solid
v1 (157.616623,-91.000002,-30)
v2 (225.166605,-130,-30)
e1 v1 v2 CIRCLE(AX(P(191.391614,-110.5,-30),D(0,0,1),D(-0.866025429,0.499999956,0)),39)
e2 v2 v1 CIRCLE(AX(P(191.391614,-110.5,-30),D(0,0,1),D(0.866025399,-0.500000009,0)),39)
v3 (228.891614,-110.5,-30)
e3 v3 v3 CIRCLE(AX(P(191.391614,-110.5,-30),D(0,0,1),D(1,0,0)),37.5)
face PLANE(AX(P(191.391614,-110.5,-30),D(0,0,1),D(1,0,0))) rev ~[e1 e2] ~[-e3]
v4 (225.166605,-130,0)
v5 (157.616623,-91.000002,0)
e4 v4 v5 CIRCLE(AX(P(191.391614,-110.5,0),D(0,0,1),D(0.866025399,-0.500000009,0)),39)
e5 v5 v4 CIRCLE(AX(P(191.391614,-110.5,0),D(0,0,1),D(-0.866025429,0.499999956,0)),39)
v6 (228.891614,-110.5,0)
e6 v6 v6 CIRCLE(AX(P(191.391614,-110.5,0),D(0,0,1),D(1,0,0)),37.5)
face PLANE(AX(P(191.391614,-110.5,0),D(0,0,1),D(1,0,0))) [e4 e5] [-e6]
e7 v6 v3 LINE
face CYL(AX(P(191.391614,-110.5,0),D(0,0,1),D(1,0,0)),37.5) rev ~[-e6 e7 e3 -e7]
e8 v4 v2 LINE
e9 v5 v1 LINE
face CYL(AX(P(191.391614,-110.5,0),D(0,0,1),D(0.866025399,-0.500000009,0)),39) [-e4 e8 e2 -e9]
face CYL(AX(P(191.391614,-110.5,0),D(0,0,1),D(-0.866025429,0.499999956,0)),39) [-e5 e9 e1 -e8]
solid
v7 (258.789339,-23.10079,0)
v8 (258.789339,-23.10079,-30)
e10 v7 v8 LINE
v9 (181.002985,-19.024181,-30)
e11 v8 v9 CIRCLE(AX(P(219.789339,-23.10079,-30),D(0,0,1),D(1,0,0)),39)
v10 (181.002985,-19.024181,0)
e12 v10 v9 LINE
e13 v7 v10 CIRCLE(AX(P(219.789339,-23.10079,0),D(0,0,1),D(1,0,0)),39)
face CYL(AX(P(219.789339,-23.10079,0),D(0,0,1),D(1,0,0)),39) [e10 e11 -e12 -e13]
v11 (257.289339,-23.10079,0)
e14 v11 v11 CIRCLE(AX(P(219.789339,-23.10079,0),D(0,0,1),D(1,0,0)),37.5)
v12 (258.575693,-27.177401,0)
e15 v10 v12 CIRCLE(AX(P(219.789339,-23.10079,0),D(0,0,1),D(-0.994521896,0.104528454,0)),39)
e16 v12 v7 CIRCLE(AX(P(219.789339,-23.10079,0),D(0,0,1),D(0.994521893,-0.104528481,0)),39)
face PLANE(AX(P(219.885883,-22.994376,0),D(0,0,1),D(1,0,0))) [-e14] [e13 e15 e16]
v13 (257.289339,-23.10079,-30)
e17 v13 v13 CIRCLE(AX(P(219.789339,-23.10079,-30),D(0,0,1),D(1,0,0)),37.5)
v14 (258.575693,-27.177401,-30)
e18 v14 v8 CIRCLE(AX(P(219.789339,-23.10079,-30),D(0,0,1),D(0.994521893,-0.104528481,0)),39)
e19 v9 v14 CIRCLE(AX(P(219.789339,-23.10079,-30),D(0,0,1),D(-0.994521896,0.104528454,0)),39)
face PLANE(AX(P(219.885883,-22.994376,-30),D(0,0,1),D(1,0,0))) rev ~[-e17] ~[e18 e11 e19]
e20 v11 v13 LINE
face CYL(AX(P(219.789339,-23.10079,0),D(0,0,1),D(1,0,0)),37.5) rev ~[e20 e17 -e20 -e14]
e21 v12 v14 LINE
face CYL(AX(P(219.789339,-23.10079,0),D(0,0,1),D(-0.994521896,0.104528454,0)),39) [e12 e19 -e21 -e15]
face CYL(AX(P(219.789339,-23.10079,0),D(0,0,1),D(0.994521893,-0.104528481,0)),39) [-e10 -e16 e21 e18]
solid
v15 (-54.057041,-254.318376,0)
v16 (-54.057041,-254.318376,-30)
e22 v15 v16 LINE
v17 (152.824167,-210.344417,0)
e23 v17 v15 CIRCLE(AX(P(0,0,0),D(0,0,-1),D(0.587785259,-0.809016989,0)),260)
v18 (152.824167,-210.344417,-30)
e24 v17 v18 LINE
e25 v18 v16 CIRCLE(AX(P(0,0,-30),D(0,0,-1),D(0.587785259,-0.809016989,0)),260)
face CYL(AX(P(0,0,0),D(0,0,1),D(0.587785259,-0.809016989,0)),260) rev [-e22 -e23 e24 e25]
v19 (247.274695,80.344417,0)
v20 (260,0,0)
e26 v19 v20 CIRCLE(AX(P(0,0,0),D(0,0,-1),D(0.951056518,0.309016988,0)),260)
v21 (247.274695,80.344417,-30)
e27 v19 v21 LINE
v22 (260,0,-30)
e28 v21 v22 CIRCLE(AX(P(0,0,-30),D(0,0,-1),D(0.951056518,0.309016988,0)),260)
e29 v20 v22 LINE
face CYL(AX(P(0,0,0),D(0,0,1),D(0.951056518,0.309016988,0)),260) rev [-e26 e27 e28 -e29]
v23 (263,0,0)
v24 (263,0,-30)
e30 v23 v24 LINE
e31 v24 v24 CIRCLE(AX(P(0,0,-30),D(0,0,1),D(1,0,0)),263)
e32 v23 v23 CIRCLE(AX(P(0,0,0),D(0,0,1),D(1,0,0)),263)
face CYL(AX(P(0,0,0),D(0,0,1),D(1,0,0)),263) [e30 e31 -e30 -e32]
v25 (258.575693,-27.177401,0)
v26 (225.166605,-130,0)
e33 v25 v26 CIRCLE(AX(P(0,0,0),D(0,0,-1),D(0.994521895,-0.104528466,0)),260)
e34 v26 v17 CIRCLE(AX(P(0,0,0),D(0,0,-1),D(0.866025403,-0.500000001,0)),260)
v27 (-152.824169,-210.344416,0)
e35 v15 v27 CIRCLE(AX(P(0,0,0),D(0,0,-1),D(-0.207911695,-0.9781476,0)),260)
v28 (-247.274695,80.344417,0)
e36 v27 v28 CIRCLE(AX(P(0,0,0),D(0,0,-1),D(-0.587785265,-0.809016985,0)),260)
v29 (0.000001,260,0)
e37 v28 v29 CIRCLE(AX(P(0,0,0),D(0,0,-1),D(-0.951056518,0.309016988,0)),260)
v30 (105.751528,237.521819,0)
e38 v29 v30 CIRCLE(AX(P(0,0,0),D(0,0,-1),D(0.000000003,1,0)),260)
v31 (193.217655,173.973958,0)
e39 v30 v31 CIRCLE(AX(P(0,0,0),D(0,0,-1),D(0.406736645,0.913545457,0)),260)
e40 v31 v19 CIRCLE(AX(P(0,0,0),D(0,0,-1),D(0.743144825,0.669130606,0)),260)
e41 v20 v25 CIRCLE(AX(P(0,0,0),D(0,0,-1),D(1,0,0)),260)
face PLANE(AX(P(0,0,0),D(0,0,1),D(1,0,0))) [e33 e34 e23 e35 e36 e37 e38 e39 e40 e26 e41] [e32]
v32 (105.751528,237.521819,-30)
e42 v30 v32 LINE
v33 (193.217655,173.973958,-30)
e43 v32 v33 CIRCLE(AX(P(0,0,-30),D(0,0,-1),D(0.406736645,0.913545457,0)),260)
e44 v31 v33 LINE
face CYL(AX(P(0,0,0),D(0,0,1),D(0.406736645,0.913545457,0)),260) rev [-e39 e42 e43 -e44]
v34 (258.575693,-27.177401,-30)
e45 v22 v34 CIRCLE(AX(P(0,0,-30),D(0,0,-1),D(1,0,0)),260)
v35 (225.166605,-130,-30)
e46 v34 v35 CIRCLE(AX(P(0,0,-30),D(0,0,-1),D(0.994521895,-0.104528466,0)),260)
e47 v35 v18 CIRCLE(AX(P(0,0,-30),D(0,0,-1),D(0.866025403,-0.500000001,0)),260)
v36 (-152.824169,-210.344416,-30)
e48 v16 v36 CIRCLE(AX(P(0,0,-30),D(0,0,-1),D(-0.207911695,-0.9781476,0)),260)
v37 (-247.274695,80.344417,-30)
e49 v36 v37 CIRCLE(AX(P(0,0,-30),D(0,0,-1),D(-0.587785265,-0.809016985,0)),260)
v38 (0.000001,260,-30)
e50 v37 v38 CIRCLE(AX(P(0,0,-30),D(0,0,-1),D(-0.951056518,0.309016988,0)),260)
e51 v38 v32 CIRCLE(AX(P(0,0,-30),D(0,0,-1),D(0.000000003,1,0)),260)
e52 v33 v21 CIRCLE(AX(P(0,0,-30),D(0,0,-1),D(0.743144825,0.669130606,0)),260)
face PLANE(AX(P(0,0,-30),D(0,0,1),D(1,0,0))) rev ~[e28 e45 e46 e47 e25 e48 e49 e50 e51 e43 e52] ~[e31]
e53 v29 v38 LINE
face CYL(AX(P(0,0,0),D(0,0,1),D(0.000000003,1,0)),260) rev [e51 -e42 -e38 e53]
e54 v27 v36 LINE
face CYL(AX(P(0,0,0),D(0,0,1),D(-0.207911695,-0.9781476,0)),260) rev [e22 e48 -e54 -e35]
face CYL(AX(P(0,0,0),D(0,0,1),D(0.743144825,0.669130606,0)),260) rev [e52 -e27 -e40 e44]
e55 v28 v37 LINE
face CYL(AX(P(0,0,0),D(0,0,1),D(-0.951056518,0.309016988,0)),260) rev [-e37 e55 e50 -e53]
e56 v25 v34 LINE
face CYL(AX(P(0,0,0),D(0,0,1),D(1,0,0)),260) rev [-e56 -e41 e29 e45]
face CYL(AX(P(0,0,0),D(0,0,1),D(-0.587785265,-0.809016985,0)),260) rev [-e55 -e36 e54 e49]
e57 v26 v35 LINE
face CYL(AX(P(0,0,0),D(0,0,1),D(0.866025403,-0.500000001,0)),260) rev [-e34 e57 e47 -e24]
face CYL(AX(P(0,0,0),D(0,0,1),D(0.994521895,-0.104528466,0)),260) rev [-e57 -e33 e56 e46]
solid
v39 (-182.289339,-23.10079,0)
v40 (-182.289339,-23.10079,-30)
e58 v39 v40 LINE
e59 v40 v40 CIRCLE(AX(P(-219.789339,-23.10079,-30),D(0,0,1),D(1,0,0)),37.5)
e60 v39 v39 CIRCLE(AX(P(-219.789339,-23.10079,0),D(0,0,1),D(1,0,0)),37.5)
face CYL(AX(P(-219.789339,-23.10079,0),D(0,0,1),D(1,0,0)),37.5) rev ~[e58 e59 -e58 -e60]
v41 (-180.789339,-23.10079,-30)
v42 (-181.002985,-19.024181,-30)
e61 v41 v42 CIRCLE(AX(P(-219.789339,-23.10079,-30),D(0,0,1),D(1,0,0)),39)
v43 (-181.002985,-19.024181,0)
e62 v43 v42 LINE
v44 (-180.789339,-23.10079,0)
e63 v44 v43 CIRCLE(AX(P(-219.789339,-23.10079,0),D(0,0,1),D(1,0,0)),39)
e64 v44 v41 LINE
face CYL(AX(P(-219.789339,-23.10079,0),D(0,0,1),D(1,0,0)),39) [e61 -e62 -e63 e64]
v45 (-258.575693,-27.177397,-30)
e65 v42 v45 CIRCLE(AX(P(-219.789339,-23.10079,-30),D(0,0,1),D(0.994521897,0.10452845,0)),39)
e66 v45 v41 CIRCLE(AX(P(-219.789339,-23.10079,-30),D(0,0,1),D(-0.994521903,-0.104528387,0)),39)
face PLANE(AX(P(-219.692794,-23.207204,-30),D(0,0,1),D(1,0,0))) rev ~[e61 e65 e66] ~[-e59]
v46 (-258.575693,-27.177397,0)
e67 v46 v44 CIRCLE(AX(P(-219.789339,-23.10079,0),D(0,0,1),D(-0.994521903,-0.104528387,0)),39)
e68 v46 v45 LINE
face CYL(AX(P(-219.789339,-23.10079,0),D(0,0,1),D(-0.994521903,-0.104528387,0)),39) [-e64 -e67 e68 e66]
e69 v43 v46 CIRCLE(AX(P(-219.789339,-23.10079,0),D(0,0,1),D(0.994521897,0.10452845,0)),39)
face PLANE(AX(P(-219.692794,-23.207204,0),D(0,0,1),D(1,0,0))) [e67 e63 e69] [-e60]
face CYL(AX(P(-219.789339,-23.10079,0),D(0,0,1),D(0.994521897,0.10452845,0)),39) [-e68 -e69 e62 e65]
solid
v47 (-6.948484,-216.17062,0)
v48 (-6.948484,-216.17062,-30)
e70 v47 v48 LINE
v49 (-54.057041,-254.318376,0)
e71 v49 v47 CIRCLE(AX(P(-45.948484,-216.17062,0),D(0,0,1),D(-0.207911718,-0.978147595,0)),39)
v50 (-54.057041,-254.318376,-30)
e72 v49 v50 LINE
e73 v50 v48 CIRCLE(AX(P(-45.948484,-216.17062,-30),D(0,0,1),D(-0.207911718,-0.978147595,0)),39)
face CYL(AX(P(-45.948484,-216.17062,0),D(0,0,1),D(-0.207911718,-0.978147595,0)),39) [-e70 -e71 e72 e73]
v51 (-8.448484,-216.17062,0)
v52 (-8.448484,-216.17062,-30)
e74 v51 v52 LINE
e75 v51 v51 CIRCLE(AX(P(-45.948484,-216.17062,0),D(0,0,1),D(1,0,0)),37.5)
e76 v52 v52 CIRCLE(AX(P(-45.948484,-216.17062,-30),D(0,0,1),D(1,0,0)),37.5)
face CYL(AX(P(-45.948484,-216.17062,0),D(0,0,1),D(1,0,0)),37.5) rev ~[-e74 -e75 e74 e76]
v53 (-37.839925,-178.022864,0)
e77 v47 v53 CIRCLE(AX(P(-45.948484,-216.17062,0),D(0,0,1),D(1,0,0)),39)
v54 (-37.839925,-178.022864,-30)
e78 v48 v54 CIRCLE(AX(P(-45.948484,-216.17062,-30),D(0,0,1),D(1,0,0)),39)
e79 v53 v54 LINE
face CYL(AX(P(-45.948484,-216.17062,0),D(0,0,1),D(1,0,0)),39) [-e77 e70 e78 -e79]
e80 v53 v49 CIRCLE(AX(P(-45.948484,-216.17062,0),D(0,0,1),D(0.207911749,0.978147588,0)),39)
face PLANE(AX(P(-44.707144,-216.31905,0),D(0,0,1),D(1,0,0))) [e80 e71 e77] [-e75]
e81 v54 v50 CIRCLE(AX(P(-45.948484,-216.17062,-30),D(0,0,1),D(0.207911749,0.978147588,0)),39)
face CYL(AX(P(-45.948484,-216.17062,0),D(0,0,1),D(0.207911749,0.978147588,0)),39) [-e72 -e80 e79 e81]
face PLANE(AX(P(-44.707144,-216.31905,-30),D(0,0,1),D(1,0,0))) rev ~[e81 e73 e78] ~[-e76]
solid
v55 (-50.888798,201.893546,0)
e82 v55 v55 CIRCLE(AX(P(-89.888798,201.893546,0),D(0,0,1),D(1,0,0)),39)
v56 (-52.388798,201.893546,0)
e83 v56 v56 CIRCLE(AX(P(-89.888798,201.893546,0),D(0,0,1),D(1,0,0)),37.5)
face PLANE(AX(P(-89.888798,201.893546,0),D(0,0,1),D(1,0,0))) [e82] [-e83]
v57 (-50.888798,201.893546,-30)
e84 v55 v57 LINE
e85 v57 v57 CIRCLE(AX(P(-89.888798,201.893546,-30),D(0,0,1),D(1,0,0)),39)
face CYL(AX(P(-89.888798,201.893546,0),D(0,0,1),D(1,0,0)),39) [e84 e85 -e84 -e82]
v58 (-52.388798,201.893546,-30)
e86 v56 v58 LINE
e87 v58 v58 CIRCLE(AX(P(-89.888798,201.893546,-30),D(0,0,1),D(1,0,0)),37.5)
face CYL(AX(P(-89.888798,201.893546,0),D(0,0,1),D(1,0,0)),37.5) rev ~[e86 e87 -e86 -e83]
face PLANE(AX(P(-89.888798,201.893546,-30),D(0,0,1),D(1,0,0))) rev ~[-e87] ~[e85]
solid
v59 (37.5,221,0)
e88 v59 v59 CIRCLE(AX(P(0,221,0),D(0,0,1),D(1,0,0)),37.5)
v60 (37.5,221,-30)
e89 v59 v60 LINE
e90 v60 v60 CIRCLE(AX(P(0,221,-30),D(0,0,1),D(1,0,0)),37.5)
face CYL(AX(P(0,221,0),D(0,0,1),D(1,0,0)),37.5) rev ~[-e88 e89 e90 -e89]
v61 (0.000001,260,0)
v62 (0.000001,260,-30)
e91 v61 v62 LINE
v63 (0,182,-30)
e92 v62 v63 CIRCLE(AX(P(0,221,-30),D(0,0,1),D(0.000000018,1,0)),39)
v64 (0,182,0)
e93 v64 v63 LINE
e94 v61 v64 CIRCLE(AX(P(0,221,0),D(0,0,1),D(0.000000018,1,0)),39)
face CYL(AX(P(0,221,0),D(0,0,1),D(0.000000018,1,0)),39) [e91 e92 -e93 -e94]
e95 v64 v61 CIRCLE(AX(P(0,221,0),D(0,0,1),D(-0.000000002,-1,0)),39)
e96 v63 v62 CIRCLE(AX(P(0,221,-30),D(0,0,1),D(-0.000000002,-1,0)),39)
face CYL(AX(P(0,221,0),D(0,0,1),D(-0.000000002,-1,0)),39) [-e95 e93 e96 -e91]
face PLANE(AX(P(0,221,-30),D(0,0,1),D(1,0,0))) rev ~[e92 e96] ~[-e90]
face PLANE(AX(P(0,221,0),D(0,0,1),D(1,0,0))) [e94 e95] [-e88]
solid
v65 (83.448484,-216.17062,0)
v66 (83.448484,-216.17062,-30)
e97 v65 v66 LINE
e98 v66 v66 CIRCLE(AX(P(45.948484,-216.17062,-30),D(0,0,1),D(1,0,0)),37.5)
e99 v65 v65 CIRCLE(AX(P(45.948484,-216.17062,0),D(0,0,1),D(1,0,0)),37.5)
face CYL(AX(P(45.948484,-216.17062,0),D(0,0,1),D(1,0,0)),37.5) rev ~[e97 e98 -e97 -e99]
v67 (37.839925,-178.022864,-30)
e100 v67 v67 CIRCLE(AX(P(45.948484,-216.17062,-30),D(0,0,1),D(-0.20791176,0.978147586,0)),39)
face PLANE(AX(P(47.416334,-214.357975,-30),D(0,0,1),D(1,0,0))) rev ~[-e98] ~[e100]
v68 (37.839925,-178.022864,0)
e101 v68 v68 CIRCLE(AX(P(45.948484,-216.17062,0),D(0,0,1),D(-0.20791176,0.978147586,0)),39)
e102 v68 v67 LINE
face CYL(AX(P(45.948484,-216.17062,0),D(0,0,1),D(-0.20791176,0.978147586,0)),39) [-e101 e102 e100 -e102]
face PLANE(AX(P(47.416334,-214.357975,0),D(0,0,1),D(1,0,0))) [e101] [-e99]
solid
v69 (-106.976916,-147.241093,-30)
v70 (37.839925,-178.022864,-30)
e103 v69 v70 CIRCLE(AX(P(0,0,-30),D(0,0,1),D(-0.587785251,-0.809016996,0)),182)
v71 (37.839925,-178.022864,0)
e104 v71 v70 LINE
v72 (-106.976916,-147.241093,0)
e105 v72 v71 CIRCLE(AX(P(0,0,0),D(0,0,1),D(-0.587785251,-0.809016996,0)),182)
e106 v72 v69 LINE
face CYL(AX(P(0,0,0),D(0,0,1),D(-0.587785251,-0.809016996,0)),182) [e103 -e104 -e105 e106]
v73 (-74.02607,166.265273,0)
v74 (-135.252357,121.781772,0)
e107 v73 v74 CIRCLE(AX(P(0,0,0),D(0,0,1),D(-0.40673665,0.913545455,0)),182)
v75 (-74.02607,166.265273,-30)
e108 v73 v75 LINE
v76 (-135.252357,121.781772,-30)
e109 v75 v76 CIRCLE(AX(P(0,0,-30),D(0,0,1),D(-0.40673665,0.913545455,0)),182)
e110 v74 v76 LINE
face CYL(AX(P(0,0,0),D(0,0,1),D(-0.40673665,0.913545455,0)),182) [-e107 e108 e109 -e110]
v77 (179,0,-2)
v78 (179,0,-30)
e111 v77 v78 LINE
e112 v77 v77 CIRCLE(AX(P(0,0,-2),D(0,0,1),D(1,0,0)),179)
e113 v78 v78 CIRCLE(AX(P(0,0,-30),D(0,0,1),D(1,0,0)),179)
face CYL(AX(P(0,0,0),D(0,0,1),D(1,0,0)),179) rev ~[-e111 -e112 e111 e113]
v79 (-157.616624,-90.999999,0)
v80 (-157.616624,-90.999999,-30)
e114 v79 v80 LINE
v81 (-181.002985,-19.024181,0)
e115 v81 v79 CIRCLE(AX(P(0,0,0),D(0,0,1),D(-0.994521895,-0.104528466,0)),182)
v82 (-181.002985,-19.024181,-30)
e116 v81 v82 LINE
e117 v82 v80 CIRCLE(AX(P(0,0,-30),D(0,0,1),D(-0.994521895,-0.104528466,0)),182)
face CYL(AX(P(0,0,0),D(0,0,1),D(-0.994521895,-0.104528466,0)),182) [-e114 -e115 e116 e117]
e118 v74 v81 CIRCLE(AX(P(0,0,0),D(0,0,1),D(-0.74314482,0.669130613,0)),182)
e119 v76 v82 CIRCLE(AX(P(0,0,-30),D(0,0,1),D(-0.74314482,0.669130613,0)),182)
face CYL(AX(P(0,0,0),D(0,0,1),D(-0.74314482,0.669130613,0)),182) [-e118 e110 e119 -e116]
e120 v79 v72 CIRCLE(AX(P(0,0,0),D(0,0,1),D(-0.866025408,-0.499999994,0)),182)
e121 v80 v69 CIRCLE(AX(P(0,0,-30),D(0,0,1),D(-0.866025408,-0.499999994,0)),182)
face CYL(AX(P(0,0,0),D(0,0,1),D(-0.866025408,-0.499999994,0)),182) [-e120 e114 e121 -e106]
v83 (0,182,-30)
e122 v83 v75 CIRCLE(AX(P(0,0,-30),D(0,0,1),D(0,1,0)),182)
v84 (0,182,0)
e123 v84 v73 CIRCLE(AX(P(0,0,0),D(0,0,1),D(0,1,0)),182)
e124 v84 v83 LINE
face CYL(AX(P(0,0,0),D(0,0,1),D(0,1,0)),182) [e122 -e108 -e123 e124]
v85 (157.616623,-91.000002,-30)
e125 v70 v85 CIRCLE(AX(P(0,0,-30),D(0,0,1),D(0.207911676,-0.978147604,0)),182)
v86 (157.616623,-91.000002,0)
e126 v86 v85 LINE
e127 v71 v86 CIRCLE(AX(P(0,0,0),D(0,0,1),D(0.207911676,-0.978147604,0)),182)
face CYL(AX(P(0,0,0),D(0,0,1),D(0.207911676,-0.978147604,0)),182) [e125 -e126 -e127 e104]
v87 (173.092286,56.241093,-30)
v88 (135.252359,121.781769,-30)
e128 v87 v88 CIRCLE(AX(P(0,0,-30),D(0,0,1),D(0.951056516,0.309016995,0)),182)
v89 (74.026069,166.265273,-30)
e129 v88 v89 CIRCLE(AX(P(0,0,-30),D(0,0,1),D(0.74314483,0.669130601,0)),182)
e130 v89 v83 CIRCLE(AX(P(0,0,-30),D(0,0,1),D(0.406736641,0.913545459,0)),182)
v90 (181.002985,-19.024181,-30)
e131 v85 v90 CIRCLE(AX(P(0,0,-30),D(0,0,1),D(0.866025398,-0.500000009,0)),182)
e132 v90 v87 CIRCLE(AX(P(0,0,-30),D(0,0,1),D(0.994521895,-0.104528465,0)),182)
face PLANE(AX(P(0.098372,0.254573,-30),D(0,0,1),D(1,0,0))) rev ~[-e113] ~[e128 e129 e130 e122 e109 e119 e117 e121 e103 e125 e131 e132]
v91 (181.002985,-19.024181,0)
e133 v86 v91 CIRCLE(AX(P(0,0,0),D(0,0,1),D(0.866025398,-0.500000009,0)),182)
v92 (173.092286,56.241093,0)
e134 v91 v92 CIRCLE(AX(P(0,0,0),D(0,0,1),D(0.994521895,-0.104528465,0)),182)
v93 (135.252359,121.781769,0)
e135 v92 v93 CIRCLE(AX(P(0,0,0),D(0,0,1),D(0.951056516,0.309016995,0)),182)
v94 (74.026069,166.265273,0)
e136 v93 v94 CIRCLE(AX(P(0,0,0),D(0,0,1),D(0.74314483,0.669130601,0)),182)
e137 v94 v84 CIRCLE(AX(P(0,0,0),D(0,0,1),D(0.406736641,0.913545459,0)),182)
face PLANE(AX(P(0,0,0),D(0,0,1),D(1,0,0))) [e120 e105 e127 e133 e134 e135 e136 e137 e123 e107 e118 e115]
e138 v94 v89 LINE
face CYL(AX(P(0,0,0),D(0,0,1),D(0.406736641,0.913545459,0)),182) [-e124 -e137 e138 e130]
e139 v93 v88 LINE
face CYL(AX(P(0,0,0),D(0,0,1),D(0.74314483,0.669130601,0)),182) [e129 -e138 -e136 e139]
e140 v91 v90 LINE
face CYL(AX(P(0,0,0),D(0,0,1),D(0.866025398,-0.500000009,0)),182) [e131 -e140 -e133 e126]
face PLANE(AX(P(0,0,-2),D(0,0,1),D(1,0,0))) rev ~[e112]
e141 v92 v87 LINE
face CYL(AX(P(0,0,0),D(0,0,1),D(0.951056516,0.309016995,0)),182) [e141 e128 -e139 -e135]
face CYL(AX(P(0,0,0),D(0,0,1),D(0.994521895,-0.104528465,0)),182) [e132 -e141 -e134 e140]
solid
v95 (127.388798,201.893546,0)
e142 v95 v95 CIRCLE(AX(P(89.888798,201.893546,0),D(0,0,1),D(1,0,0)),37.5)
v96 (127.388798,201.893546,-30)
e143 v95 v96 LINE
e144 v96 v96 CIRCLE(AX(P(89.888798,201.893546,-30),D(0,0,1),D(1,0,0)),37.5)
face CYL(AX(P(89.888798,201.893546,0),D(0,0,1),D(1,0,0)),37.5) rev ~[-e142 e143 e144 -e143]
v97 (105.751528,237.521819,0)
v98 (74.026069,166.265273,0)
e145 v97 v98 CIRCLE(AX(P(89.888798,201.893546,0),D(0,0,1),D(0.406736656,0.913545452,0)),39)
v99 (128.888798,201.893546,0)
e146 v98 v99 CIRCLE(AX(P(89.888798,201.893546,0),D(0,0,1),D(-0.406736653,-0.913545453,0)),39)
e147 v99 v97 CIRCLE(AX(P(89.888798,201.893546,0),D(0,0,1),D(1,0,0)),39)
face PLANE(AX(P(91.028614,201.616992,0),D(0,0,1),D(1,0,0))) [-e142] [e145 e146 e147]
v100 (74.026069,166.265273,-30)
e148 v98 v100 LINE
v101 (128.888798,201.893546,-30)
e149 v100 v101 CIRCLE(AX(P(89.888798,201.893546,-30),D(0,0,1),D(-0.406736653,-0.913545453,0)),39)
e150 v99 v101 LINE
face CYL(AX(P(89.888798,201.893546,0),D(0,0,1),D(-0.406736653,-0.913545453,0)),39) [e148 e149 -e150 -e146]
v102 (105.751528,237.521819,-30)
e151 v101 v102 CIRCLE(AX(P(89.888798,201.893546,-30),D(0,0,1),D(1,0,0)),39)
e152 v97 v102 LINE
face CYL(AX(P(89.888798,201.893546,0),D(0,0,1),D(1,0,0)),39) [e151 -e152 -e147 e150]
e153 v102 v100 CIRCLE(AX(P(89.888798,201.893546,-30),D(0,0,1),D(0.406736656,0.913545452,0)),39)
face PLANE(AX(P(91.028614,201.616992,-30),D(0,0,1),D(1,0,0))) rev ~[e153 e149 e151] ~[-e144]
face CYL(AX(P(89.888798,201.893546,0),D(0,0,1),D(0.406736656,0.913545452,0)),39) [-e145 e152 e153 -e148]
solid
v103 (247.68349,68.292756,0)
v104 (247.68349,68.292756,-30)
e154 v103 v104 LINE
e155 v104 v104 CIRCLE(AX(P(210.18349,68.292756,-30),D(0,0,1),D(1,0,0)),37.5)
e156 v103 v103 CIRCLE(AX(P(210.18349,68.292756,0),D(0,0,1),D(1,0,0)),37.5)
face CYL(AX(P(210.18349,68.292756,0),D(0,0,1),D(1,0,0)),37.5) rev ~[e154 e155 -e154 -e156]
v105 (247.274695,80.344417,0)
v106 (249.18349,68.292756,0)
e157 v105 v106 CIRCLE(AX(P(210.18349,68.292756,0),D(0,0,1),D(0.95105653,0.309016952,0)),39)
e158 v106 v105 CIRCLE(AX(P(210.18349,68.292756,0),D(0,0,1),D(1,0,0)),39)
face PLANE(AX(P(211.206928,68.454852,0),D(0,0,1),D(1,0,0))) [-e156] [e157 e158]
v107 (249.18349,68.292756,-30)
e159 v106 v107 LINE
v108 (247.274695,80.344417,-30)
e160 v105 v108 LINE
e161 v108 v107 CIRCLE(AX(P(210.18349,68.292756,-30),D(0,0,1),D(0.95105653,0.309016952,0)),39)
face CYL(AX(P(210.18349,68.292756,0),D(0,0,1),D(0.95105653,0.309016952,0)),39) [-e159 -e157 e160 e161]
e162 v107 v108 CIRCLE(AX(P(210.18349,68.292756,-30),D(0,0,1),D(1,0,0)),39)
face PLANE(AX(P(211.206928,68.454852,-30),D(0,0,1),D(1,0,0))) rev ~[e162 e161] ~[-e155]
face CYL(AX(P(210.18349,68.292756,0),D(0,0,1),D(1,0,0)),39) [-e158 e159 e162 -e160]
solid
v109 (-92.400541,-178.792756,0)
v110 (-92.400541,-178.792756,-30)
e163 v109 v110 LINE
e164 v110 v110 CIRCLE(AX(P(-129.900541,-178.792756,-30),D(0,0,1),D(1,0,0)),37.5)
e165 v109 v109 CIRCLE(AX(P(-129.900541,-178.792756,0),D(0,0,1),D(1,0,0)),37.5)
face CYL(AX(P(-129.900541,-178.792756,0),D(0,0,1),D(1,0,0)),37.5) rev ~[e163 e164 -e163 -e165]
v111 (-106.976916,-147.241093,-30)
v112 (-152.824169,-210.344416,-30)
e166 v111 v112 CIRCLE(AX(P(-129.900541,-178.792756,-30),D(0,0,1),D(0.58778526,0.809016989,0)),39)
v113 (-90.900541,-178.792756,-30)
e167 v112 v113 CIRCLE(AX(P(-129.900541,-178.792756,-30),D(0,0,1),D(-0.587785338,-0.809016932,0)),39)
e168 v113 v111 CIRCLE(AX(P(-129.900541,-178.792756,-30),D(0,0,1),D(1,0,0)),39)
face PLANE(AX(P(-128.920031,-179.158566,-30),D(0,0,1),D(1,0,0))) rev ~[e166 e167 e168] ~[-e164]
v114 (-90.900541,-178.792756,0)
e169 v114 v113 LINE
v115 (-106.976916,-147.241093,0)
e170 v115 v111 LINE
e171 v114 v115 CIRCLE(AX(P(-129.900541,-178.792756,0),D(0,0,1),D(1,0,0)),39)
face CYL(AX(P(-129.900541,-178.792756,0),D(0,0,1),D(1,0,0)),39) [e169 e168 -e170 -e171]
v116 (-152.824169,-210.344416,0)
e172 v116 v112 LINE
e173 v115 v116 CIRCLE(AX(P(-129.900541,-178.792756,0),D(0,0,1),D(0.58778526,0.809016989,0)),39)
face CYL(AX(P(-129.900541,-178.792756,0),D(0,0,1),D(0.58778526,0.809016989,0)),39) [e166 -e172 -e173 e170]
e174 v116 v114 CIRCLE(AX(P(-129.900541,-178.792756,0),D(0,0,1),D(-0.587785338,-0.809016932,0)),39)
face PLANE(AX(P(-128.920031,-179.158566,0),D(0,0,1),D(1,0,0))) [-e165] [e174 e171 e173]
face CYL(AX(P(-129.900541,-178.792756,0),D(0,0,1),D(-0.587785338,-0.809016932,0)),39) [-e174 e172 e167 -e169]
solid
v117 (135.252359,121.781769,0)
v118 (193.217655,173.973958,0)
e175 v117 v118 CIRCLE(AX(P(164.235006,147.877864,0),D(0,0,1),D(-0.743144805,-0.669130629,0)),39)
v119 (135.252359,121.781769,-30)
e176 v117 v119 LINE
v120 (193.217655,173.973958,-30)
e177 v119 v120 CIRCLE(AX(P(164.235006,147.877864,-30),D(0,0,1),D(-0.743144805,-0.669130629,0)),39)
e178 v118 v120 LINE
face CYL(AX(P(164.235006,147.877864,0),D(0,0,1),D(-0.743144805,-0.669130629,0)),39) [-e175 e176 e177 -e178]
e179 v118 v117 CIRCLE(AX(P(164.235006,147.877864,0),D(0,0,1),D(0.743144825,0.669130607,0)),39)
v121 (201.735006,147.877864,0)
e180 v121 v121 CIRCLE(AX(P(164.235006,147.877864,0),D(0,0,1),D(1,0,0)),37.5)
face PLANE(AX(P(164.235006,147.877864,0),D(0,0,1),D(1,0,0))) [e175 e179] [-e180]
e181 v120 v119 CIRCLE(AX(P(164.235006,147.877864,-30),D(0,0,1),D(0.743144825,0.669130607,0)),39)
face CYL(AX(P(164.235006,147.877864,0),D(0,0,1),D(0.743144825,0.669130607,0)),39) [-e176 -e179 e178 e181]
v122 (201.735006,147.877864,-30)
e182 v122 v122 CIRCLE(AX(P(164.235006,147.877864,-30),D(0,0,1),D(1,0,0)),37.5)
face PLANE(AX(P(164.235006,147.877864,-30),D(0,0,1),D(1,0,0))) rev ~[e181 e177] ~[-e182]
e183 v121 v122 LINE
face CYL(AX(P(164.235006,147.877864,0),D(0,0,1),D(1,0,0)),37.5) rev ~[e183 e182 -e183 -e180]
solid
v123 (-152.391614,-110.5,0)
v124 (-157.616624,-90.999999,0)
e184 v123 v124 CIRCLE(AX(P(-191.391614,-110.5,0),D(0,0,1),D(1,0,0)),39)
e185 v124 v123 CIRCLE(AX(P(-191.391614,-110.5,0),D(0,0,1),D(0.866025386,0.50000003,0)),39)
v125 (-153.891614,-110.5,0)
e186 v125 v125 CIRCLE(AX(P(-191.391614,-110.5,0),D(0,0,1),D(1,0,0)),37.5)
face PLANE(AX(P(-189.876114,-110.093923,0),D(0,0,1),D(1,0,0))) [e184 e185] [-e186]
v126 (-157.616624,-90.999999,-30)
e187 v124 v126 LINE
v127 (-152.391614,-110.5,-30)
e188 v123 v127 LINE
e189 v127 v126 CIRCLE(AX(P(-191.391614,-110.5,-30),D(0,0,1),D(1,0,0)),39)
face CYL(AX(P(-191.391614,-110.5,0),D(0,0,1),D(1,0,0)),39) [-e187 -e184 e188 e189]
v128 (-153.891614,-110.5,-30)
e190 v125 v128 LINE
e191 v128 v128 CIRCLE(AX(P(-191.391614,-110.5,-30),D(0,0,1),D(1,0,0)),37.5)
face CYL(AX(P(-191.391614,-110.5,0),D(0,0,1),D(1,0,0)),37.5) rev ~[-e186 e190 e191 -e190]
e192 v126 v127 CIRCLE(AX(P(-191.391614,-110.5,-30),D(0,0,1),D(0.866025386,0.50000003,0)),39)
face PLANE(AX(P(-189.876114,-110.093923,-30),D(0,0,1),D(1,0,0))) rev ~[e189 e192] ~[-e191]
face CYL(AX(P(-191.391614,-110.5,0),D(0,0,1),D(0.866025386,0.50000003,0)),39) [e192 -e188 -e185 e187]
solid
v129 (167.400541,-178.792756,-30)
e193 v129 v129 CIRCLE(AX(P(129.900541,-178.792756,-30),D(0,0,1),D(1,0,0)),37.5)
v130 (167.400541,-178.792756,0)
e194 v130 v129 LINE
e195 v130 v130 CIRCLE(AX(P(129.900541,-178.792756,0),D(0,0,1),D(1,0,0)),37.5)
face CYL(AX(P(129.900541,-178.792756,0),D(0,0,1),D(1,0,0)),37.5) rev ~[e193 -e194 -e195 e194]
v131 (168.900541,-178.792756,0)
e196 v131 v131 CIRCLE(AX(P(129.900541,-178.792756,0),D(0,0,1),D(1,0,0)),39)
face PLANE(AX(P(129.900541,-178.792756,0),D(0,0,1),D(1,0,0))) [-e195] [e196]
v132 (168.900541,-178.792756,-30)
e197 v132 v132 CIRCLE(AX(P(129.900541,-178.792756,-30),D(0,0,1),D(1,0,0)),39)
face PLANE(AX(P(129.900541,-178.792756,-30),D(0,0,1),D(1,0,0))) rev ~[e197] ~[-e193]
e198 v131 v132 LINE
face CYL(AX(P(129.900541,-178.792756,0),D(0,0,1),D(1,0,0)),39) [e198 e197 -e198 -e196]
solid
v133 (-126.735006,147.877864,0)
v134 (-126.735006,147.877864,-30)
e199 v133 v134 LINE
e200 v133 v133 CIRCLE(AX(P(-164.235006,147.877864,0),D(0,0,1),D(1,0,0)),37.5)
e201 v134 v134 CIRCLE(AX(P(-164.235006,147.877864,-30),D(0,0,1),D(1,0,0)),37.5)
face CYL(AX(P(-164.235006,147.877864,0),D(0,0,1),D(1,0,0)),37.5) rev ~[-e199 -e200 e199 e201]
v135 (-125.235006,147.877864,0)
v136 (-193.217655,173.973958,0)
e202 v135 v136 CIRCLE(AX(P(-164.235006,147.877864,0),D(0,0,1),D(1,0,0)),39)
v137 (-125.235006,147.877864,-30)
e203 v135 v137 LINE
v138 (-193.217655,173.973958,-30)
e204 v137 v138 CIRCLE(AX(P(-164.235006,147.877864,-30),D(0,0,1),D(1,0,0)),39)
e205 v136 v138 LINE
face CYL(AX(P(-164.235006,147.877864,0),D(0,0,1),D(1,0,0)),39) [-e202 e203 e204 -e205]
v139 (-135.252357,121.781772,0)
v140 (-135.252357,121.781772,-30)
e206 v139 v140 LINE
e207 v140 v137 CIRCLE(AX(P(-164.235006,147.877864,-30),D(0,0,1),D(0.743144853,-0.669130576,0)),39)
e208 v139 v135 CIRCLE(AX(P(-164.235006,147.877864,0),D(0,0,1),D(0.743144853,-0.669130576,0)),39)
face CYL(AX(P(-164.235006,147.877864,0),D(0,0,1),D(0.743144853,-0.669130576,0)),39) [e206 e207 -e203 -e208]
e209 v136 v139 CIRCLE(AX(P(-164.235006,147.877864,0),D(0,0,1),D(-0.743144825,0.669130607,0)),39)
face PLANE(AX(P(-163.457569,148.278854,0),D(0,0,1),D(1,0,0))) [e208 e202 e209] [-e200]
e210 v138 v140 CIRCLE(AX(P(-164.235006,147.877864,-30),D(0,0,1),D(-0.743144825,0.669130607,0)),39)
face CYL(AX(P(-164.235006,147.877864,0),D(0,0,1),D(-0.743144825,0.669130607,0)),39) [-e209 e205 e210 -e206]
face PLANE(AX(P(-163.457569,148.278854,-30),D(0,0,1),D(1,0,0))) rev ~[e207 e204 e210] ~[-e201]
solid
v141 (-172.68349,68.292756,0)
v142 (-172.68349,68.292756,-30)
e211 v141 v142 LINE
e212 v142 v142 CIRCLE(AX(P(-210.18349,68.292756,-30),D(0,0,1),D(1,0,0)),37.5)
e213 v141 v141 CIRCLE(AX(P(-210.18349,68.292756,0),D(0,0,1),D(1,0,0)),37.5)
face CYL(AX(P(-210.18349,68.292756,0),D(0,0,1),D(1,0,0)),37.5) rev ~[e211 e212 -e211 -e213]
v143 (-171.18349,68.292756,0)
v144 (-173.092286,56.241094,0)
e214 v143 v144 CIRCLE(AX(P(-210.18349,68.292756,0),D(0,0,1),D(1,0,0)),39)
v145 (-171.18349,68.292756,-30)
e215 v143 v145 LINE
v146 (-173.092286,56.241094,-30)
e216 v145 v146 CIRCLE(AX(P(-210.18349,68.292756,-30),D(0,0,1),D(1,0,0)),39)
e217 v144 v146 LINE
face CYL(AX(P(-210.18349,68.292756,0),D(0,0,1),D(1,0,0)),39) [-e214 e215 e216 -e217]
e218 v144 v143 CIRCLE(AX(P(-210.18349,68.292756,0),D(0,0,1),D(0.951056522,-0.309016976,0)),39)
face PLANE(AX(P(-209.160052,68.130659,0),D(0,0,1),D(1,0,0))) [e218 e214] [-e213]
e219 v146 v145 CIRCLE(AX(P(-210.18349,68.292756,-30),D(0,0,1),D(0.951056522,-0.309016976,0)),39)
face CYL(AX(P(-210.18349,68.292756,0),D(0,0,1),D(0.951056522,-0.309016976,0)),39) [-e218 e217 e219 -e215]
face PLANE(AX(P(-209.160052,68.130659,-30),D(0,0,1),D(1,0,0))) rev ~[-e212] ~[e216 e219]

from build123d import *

# Parameters (mm, degrees)
F0_R     = 263
F1_DEPTH = 30
F0_R_2   = 179
F0_R_3   = 37.5
F2_R     = 179
F3_DEPTH = 2


with BuildPart() as f1:
    # F0 (on Top) → F1 (new body)
    with BuildSketch(Plane.XY):
        Circle(F0_R)
        with BuildLine():
            ThreePointArc((193.2176546024, 173.9739576774), (225.166605407, 129.9999992672), (247.2746947697, 80.3444168972))
            ThreePointArc((247.2746947697, 80.3444168972), (256.7989686896, 40.6729600587), (260, 0))
            ThreePointArc((260, 0), (259.6436790177, -13.6073489756), (258.575692722, -27.1774011515))
            ThreePointArc((258.575692722, -27.1774011515), (247.2746940659, -80.3444190634), (225.1666047839, -130.0000003465))
            ThreePointArc((225.1666047839, -130.0000003465), (193.21765526, -173.9739569471), (152.8241674573, -210.3444171852))
            ThreePointArc((152.8241674573, -210.3444171852), (105.7515281671, -237.5218185564), (54.0570394339, -254.3183762288))
            ThreePointArc((54.0570394339, -254.3183762288), (-6.34e-07, -260), (-54.0570406742, -254.3183759651))
            ThreePointArc((-54.0570406742, -254.3183759651), (-105.7515295767, -237.5218179288), (-152.8241689282, -210.3444161166))
            ThreePointArc((-152.8241689282, -210.3444161166), (-193.2176560273, -173.9739560949), (-225.1666050216, -129.9999999347))
            ThreePointArc((-225.1666050216, -129.9999999347), (-247.2746947128, -80.3444170722), (-258.57569311, -27.17739746))
            ThreePointArc((-258.57569311, -27.17739746), (-258.5756927288, 27.1774010868), (-247.2746947697, 80.3444168972))
            ThreePointArc((-247.2746947697, 80.3444168972), (-225.166605407, 129.9999992672), (-193.2176546024, 173.9739576774))
            ThreePointArc((-193.2176546024, 173.9739576774), (-152.8241652635, 210.3444187791), (-105.7515264782, 237.5218193083))
            ThreePointArc((-105.7515264782, 237.5218193083), (-54.0570388878, 254.3183763449), (6.922e-07, 260))
            ThreePointArc((6.922e-07, 260), (54.057040225, 254.3183760606), (105.7515277112, 237.5218187593))
            ThreePointArc((105.7515277112, 237.5218187593), (152.8241658094, 210.3444183825), (193.2176546024, 173.9739576774))
        make_face(mode=Mode.SUBTRACT)
    extrude(amount=-F1_DEPTH)


with BuildPart() as f1b:
    # F0 (on Top) → F1, piece 2 (new body)
    with BuildSketch(Plane.XY):
        with BuildLine():
            ThreePointArc((181.0029849186, -19.0241806807), (181.7505753157, -9.52514422), (182, 0))
            ThreePointArc((182, 0), (179.7592779717, 28.4710727424), (173.0922859, 56.2410931785))
            ThreePointArc((173.0922859, 56.2410931785), (157.6166237351, 90.9999995734), (135.2523590384, 121.7817694671))
            ThreePointArc((135.2523590384, 121.7817694671), (106.9769162369, 147.241092744), (74.0260686674, 166.2652734568))
            ThreePointArc((74.0260686674, 166.2652734568), (37.8399274863, 178.0228633851), (-8.82e-08, 182))
            ThreePointArc((-8.82e-08, 182), (-37.8399284124, 178.0228631882), (-74.0260702361, 166.2652727583))
            ThreePointArc((-74.0260702361, 166.2652727583), (-106.9769158012, 147.2410930605), (-135.2523571687, 121.7817715437))
            ThreePointArc((-135.2523571687, 121.7817715437), (-157.6166228999, 91.0000010199), (-173.0922857312, 56.241093698))
            ThreePointArc((-173.0922857312, 56.241093698), (-181.0029849436, 19.0241804426), (-181.0029849046, -19.0241808138))
            ThreePointArc((-181.0029849046, -19.0241808138), (-173.092286098, -56.2410925691), (-157.6166241678, -90.9999988239))
            ThreePointArc((-157.6166241678, -90.9999988239), (-135.2523585732, -121.7817699838), (-106.9769156318, -147.2410931836))
            ThreePointArc((-106.9769156318, -147.2410931836), (-74.0260678266, -166.2652738311), (-37.839925476, -178.0228638124))
            ThreePointArc((-37.839925476, -178.0228638124), (-2.297e-07, -182), (37.8399250266, -178.0228639079))
            ThreePointArc((37.8399250266, -178.0228639079), (74.0260674081, -166.2652740174), (106.9769152622, -147.2410934521))
            ThreePointArc((106.9769152622, -147.2410934521), (135.2523573096, -121.7817713871), (157.6166225078, -91.000001699))
            ThreePointArc((157.6166225078, -91.000001699), (173.0922856057, -56.2410940842), (181.0029849186, -19.0241806807))
        make_face()
        Circle(F0_R_2, mode=Mode.SUBTRACT)
    extrude(amount=-F1_DEPTH)

    # F2 (on Top) → F3 (join)
    with BuildSketch(Plane.XY):
        Circle(F2_R)
    extrude(amount=-F3_DEPTH)


with BuildPart() as f1c:
    # F0 (on Top) → F1, piece 3 (new body)
    with BuildSketch(Plane.XY):
        with BuildLine():
            ThreePointArc((-6.9484836707, -216.1706197622), (-15.6397904492, -191.6271254062), (-37.839925476, -178.0228638124))
            ThreePointArc((-37.839925476, -178.0228638124), (-84.0962397471, -208.0620621631), (-54.0570406742, -254.3183759651))
            ThreePointArc((-54.0570406742, -254.3183759651), (-21.4049888415, -246.4793126005), (-6.9484836707, -216.1706197622))
        make_face()
        with Locations((-45.9484836707, -216.1706197622)):
            Circle(F0_R_3, mode=Mode.SUBTRACT)
    extrude(amount=-F1_DEPTH)


with BuildPart() as f1d:
    # F0 (on Top) → F1, piece 4 (new body)
    with BuildSketch(Plane.XY):
        with BuildLine():
            ThreePointArc((-90.9005407566, -178.7927557569), (-95.1512862332, -161.0871264242), (-106.9769156318, -147.2410931836))
            ThreePointArc((-106.9769156318, -147.2410931836), (-161.4522022231, -155.8691291087), (-152.8241689282, -210.3444161166))
            ThreePointArc((-152.8241689282, -210.3444161166), (-112.1949131017, -213.5420111351), (-90.9005407566, -178.7927557569))
        make_face()
        with Locations((-129.9005407566, -178.7927557569)):
            Circle(F0_R_3, mode=Mode.SUBTRACT)
    extrude(amount=-F1_DEPTH)


with BuildPart() as f1e:
    # F0 (on Top) → F1, piece 5 (new body)
    with BuildSketch(Plane.XY):
        with BuildLine():
            ThreePointArc((-152.3916142364, -110.5), (-153.7205071868, -100.4060565851), (-157.6166241678, -90.9999988239))
            ThreePointArc((-157.6166241678, -90.9999988239), (-210.8916147918, -76.7250095731), (-225.1666050216, -129.9999999347))
            ThreePointArc((-225.1666050216, -129.9999999347), (-181.2976715138, -148.171107235), (-152.3916142364, -110.5))
        make_face()
        with Locations((-191.3916142364, -110.5)):
            Circle(F0_R_3, mode=Mode.SUBTRACT)
    extrude(amount=-F1_DEPTH)


with BuildPart() as f1f:
    # F0 (on Top) → F1, piece 6 (new body)
    with BuildSketch(Plane.XY):
        with BuildLine():
            ThreePointArc((-180.7893388764, -23.1007903822), (-180.8427870078, -21.0596883392), (-181.0029849046, -19.0241808138))
            ThreePointArc((-181.0029849046, -19.0241808138), (-223.8659471995, 15.6855637205), (-258.57569311, -27.17739746))
            ThreePointArc((-258.57569311, -27.17739746), (-217.7482380839, -62.0473423162), (-180.7893388764, -23.1007903822))
        make_face()
        with Locations((-219.7893388764, -23.1007903822)):
            Circle(F0_R_3, mode=Mode.SUBTRACT)
    extrude(amount=-F1_DEPTH)


with BuildPart() as f1g:
    # F0 (on Top) → F1, piece 7 (new body)
    with BuildSketch(Plane.XY):
        with BuildLine():
            ThreePointArc((-247.2746947697, 80.3444168972), (-222.2351517008, 31.2015512376), (-173.0922857312, 56.241093698))
            ThreePointArc((-173.0922857312, 56.241093698), (-171.6636447587, 62.1918119951), (-171.1834901012, 68.2927557569))
            ThreePointArc((-171.1834901012, 68.2927557569), (-204.0825468164, 106.812601175), (-247.2746947697, 80.3444168972))
        make_face()
        with Locations((-210.1834901012, 68.2927557569)):
            Circle(F0_R_3, mode=Mode.SUBTRACT)
    extrude(amount=-F1_DEPTH)


with BuildPart() as f1h:
    # F0 (on Top) → F1, piece 8 (new body)
    with BuildSketch(Plane.XY):
        with BuildLine():
            ThreePointArc((-193.2176546024, 173.9739576774), (-190.3310994974, 118.8952152884), (-135.2523571687, 121.7817715437))
            ThreePointArc((-135.2523571687, 121.7817715437), (-127.8253695111, 133.9015147182), (-125.2350064305, 147.8778640053))
            ThreePointArc((-125.2350064305, 147.8778640053), (-150.2586563831, 184.2875006329), (-193.2176546024, 173.9739576774))
        make_face()
        with Locations((-164.2350064305, 147.8778640053)):
            Circle(F0_R_3, mode=Mode.SUBTRACT)
    extrude(amount=-F1_DEPTH)


with BuildPart() as f1i:
    # F0 (on Top) → F1, piece 9 (new body)
    with BuildSketch(Plane.XY):
        with BuildLine():
            ThreePointArc((-105.7515264782, 237.5218193083), (-125.5170713948, 186.030818018), (-74.0260702361, 166.2652727583))
            ThreePointArc((-74.0260702361, 166.2652727583), (-57.1806463265, 180.6526232243), (-50.8887981198, 201.893546139))
            ThreePointArc((-50.8887981198, 201.893546139), (-68.647875423, 234.6016980738), (-105.7515264782, 237.5218193083))
        make_face()
        with Locations((-89.8887981198, 201.893546139)):
            Circle(F0_R_3, mode=Mode.SUBTRACT)
    extrude(amount=-F1_DEPTH)


with BuildPart() as f1j:
    # F0 (on Top) → F1, piece 10 (new body)
    with BuildSketch(Plane.XY):
        with BuildLine():
            ThreePointArc((6.922e-07, 260), (-39, 221.0000003902), (-8.82e-08, 182))
            ThreePointArc((-8.82e-08, 182), (27.5771644351, 193.4228355025), (39, 221))
            ThreePointArc((39, 221), (27.577164711, 248.5771642215), (6.922e-07, 260))
        make_face()
        with Locations((0, 221)):
            Circle(F0_R_3, mode=Mode.SUBTRACT)
    extrude(amount=-F1_DEPTH)


with BuildPart() as f1k:
    # F0 (on Top) → F1, piece 11 (new body)
    with BuildSketch(Plane.XY):
        with BuildLine():
            ThreePointArc((168.9005407566, -178.7927557569), (147.6061698858, -144.0435011297), (106.9769152622, -147.2410934521))
            ThreePointArc((106.9769152622, -147.2410934521), (98.3488788901, -201.7163818544), (152.8241674573, -210.3444171852))
            ThreePointArc((152.8241674573, -210.3444171852), (164.6497957222, -196.4983842218), (168.9005407566, -178.7927557569))
        make_face()
        with Locations((129.9005407566, -178.7927557569)):
            Circle(F0_R_3, mode=Mode.SUBTRACT)
    extrude(amount=-F1_DEPTH)


with BuildPart() as f1l:
    # F0 (on Top) → F1, piece 12 (new body)
    with BuildSketch(Plane.XY):
        with BuildLine():
            ThreePointArc((84.9484836707, -216.1706197622), (70.4919778482, -185.8619263961), (37.8399250266, -178.0228639079))
            ThreePointArc((37.8399250266, -178.0228639079), (7.8007275103, -224.2791769658), (54.0570394339, -254.3183762288))
            ThreePointArc((54.0570394339, -254.3183762288), (76.2571761101, -240.7141150841), (84.9484836707, -216.1706197622))
        make_face()
        with Locations((45.9484836707, -216.1706197622)):
            Circle(F0_R_3, mode=Mode.SUBTRACT)
    extrude(amount=-F1_DEPTH)


with BuildPart() as f1m:
    # F0 (on Top) → F1, piece 13 (new body)
    with BuildSketch(Plane.XY):
        with BuildLine():
            ThreePointArc((105.7515277112, 237.5218187593), (54.2605254685, 217.7562756609), (74.0260686674, 166.2652734568))
            ThreePointArc((74.0260686674, 166.2652734568), (111.1297203144, 169.1853938781), (128.8887981198, 201.893546139))
            ThreePointArc((128.8887981198, 201.893546139), (122.5969504221, 223.1344682698), (105.7515277112, 237.5218187593))
        make_face()
        with Locations((89.8887981198, 201.893546139)):
            Circle(F0_R_3, mode=Mode.SUBTRACT)
    extrude(amount=-F1_DEPTH)


with BuildPart() as f1n:
    # F0 (on Top) → F1, piece 14 (new body)
    with BuildSketch(Plane.XY):
        with BuildLine():
            ThreePointArc((193.2176546024, 173.9739576774), (138.1389123254, 176.8605117873), (135.2523590384, 121.7817694671))
            ThreePointArc((135.2523590384, 121.7817694671), (178.2113570219, 111.4682275866), (203.2350064305, 147.8778640053))
            ThreePointArc((203.2350064305, 147.8778640053), (200.6446430581, 161.8542140527), (193.2176546024, 173.9739576774))
        make_face()
        with Locations((164.2350064305, 147.8778640053)):
            Circle(F0_R_3, mode=Mode.SUBTRACT)
    extrude(amount=-F1_DEPTH)


with BuildPart() as f1o:
    # F0 (on Top) → F1, piece 15 (new body)
    with BuildSketch(Plane.XY):
        with BuildLine():
            ThreePointArc((247.2746947697, 80.3444168972), (198.1318282419, 105.3839601917), (173.0922859, 56.2410931785))
            ThreePointArc((173.0922859, 56.2410931785), (216.2844341328, 29.772910457), (249.1834901012, 68.2927557569))
            ThreePointArc((249.1834901012, 68.2927557569), (248.7033355193, 74.3936990417), (247.2746947697, 80.3444168972))
        make_face()
        with Locations((210.1834901012, 68.2927557569)):
            Circle(F0_R_3, mode=Mode.SUBTRACT)
    extrude(amount=-F1_DEPTH)


with BuildPart() as f1p:
    # F0 (on Top) → F1, piece 16 (new body)
    with BuildSketch(Plane.XY):
        with BuildLine():
            ThreePointArc((258.7893388764, -23.1007903822), (221.8304409861, 15.8457614829), (181.0029849186, -19.0241806807))
            ThreePointArc((181.0029849186, -19.0241806807), (215.712728641, -61.8871442839), (258.575692722, -27.1774011515))
            ThreePointArc((258.575692722, -27.1774011515), (258.7358907133, -25.141893028), (258.7893388764, -23.1007903822))
        make_face()
        with Locations((219.7893388764, -23.1007903822)):
            Circle(F0_R_3, mode=Mode.SUBTRACT)
    extrude(amount=-F1_DEPTH)


with BuildPart() as f1q:
    # F0 (on Top) → F1, piece 17 (new body)
    with BuildSketch(Plane.XY):
        with BuildLine():
            ThreePointArc((230.3916142364, -110.5), (201.4855560478, -72.8288925208), (157.6166225078, -91.000001699))
            ThreePointArc((157.6166225078, -91.000001699), (171.8916149126, -144.274991138), (225.1666047839, -130.0000003465))
            ThreePointArc((225.1666047839, -130.0000003465), (229.0627214099, -120.5939429522), (230.3916142364, -110.5))
        make_face()
        with Locations((191.3916142364, -110.5)):
            Circle(F0_R_3, mode=Mode.SUBTRACT)
    extrude(amount=-F1_DEPTH)


solid = Compound([f1.part, f1b.part, f1c.part, f1d.part, f1e.part, f1f.part, f1g.part, f1h.part, f1i.part, f1j.part, f1k.part, f1l.part, f1m.part, f1n.part, f1o.part, f1p.part, f1q.part])
